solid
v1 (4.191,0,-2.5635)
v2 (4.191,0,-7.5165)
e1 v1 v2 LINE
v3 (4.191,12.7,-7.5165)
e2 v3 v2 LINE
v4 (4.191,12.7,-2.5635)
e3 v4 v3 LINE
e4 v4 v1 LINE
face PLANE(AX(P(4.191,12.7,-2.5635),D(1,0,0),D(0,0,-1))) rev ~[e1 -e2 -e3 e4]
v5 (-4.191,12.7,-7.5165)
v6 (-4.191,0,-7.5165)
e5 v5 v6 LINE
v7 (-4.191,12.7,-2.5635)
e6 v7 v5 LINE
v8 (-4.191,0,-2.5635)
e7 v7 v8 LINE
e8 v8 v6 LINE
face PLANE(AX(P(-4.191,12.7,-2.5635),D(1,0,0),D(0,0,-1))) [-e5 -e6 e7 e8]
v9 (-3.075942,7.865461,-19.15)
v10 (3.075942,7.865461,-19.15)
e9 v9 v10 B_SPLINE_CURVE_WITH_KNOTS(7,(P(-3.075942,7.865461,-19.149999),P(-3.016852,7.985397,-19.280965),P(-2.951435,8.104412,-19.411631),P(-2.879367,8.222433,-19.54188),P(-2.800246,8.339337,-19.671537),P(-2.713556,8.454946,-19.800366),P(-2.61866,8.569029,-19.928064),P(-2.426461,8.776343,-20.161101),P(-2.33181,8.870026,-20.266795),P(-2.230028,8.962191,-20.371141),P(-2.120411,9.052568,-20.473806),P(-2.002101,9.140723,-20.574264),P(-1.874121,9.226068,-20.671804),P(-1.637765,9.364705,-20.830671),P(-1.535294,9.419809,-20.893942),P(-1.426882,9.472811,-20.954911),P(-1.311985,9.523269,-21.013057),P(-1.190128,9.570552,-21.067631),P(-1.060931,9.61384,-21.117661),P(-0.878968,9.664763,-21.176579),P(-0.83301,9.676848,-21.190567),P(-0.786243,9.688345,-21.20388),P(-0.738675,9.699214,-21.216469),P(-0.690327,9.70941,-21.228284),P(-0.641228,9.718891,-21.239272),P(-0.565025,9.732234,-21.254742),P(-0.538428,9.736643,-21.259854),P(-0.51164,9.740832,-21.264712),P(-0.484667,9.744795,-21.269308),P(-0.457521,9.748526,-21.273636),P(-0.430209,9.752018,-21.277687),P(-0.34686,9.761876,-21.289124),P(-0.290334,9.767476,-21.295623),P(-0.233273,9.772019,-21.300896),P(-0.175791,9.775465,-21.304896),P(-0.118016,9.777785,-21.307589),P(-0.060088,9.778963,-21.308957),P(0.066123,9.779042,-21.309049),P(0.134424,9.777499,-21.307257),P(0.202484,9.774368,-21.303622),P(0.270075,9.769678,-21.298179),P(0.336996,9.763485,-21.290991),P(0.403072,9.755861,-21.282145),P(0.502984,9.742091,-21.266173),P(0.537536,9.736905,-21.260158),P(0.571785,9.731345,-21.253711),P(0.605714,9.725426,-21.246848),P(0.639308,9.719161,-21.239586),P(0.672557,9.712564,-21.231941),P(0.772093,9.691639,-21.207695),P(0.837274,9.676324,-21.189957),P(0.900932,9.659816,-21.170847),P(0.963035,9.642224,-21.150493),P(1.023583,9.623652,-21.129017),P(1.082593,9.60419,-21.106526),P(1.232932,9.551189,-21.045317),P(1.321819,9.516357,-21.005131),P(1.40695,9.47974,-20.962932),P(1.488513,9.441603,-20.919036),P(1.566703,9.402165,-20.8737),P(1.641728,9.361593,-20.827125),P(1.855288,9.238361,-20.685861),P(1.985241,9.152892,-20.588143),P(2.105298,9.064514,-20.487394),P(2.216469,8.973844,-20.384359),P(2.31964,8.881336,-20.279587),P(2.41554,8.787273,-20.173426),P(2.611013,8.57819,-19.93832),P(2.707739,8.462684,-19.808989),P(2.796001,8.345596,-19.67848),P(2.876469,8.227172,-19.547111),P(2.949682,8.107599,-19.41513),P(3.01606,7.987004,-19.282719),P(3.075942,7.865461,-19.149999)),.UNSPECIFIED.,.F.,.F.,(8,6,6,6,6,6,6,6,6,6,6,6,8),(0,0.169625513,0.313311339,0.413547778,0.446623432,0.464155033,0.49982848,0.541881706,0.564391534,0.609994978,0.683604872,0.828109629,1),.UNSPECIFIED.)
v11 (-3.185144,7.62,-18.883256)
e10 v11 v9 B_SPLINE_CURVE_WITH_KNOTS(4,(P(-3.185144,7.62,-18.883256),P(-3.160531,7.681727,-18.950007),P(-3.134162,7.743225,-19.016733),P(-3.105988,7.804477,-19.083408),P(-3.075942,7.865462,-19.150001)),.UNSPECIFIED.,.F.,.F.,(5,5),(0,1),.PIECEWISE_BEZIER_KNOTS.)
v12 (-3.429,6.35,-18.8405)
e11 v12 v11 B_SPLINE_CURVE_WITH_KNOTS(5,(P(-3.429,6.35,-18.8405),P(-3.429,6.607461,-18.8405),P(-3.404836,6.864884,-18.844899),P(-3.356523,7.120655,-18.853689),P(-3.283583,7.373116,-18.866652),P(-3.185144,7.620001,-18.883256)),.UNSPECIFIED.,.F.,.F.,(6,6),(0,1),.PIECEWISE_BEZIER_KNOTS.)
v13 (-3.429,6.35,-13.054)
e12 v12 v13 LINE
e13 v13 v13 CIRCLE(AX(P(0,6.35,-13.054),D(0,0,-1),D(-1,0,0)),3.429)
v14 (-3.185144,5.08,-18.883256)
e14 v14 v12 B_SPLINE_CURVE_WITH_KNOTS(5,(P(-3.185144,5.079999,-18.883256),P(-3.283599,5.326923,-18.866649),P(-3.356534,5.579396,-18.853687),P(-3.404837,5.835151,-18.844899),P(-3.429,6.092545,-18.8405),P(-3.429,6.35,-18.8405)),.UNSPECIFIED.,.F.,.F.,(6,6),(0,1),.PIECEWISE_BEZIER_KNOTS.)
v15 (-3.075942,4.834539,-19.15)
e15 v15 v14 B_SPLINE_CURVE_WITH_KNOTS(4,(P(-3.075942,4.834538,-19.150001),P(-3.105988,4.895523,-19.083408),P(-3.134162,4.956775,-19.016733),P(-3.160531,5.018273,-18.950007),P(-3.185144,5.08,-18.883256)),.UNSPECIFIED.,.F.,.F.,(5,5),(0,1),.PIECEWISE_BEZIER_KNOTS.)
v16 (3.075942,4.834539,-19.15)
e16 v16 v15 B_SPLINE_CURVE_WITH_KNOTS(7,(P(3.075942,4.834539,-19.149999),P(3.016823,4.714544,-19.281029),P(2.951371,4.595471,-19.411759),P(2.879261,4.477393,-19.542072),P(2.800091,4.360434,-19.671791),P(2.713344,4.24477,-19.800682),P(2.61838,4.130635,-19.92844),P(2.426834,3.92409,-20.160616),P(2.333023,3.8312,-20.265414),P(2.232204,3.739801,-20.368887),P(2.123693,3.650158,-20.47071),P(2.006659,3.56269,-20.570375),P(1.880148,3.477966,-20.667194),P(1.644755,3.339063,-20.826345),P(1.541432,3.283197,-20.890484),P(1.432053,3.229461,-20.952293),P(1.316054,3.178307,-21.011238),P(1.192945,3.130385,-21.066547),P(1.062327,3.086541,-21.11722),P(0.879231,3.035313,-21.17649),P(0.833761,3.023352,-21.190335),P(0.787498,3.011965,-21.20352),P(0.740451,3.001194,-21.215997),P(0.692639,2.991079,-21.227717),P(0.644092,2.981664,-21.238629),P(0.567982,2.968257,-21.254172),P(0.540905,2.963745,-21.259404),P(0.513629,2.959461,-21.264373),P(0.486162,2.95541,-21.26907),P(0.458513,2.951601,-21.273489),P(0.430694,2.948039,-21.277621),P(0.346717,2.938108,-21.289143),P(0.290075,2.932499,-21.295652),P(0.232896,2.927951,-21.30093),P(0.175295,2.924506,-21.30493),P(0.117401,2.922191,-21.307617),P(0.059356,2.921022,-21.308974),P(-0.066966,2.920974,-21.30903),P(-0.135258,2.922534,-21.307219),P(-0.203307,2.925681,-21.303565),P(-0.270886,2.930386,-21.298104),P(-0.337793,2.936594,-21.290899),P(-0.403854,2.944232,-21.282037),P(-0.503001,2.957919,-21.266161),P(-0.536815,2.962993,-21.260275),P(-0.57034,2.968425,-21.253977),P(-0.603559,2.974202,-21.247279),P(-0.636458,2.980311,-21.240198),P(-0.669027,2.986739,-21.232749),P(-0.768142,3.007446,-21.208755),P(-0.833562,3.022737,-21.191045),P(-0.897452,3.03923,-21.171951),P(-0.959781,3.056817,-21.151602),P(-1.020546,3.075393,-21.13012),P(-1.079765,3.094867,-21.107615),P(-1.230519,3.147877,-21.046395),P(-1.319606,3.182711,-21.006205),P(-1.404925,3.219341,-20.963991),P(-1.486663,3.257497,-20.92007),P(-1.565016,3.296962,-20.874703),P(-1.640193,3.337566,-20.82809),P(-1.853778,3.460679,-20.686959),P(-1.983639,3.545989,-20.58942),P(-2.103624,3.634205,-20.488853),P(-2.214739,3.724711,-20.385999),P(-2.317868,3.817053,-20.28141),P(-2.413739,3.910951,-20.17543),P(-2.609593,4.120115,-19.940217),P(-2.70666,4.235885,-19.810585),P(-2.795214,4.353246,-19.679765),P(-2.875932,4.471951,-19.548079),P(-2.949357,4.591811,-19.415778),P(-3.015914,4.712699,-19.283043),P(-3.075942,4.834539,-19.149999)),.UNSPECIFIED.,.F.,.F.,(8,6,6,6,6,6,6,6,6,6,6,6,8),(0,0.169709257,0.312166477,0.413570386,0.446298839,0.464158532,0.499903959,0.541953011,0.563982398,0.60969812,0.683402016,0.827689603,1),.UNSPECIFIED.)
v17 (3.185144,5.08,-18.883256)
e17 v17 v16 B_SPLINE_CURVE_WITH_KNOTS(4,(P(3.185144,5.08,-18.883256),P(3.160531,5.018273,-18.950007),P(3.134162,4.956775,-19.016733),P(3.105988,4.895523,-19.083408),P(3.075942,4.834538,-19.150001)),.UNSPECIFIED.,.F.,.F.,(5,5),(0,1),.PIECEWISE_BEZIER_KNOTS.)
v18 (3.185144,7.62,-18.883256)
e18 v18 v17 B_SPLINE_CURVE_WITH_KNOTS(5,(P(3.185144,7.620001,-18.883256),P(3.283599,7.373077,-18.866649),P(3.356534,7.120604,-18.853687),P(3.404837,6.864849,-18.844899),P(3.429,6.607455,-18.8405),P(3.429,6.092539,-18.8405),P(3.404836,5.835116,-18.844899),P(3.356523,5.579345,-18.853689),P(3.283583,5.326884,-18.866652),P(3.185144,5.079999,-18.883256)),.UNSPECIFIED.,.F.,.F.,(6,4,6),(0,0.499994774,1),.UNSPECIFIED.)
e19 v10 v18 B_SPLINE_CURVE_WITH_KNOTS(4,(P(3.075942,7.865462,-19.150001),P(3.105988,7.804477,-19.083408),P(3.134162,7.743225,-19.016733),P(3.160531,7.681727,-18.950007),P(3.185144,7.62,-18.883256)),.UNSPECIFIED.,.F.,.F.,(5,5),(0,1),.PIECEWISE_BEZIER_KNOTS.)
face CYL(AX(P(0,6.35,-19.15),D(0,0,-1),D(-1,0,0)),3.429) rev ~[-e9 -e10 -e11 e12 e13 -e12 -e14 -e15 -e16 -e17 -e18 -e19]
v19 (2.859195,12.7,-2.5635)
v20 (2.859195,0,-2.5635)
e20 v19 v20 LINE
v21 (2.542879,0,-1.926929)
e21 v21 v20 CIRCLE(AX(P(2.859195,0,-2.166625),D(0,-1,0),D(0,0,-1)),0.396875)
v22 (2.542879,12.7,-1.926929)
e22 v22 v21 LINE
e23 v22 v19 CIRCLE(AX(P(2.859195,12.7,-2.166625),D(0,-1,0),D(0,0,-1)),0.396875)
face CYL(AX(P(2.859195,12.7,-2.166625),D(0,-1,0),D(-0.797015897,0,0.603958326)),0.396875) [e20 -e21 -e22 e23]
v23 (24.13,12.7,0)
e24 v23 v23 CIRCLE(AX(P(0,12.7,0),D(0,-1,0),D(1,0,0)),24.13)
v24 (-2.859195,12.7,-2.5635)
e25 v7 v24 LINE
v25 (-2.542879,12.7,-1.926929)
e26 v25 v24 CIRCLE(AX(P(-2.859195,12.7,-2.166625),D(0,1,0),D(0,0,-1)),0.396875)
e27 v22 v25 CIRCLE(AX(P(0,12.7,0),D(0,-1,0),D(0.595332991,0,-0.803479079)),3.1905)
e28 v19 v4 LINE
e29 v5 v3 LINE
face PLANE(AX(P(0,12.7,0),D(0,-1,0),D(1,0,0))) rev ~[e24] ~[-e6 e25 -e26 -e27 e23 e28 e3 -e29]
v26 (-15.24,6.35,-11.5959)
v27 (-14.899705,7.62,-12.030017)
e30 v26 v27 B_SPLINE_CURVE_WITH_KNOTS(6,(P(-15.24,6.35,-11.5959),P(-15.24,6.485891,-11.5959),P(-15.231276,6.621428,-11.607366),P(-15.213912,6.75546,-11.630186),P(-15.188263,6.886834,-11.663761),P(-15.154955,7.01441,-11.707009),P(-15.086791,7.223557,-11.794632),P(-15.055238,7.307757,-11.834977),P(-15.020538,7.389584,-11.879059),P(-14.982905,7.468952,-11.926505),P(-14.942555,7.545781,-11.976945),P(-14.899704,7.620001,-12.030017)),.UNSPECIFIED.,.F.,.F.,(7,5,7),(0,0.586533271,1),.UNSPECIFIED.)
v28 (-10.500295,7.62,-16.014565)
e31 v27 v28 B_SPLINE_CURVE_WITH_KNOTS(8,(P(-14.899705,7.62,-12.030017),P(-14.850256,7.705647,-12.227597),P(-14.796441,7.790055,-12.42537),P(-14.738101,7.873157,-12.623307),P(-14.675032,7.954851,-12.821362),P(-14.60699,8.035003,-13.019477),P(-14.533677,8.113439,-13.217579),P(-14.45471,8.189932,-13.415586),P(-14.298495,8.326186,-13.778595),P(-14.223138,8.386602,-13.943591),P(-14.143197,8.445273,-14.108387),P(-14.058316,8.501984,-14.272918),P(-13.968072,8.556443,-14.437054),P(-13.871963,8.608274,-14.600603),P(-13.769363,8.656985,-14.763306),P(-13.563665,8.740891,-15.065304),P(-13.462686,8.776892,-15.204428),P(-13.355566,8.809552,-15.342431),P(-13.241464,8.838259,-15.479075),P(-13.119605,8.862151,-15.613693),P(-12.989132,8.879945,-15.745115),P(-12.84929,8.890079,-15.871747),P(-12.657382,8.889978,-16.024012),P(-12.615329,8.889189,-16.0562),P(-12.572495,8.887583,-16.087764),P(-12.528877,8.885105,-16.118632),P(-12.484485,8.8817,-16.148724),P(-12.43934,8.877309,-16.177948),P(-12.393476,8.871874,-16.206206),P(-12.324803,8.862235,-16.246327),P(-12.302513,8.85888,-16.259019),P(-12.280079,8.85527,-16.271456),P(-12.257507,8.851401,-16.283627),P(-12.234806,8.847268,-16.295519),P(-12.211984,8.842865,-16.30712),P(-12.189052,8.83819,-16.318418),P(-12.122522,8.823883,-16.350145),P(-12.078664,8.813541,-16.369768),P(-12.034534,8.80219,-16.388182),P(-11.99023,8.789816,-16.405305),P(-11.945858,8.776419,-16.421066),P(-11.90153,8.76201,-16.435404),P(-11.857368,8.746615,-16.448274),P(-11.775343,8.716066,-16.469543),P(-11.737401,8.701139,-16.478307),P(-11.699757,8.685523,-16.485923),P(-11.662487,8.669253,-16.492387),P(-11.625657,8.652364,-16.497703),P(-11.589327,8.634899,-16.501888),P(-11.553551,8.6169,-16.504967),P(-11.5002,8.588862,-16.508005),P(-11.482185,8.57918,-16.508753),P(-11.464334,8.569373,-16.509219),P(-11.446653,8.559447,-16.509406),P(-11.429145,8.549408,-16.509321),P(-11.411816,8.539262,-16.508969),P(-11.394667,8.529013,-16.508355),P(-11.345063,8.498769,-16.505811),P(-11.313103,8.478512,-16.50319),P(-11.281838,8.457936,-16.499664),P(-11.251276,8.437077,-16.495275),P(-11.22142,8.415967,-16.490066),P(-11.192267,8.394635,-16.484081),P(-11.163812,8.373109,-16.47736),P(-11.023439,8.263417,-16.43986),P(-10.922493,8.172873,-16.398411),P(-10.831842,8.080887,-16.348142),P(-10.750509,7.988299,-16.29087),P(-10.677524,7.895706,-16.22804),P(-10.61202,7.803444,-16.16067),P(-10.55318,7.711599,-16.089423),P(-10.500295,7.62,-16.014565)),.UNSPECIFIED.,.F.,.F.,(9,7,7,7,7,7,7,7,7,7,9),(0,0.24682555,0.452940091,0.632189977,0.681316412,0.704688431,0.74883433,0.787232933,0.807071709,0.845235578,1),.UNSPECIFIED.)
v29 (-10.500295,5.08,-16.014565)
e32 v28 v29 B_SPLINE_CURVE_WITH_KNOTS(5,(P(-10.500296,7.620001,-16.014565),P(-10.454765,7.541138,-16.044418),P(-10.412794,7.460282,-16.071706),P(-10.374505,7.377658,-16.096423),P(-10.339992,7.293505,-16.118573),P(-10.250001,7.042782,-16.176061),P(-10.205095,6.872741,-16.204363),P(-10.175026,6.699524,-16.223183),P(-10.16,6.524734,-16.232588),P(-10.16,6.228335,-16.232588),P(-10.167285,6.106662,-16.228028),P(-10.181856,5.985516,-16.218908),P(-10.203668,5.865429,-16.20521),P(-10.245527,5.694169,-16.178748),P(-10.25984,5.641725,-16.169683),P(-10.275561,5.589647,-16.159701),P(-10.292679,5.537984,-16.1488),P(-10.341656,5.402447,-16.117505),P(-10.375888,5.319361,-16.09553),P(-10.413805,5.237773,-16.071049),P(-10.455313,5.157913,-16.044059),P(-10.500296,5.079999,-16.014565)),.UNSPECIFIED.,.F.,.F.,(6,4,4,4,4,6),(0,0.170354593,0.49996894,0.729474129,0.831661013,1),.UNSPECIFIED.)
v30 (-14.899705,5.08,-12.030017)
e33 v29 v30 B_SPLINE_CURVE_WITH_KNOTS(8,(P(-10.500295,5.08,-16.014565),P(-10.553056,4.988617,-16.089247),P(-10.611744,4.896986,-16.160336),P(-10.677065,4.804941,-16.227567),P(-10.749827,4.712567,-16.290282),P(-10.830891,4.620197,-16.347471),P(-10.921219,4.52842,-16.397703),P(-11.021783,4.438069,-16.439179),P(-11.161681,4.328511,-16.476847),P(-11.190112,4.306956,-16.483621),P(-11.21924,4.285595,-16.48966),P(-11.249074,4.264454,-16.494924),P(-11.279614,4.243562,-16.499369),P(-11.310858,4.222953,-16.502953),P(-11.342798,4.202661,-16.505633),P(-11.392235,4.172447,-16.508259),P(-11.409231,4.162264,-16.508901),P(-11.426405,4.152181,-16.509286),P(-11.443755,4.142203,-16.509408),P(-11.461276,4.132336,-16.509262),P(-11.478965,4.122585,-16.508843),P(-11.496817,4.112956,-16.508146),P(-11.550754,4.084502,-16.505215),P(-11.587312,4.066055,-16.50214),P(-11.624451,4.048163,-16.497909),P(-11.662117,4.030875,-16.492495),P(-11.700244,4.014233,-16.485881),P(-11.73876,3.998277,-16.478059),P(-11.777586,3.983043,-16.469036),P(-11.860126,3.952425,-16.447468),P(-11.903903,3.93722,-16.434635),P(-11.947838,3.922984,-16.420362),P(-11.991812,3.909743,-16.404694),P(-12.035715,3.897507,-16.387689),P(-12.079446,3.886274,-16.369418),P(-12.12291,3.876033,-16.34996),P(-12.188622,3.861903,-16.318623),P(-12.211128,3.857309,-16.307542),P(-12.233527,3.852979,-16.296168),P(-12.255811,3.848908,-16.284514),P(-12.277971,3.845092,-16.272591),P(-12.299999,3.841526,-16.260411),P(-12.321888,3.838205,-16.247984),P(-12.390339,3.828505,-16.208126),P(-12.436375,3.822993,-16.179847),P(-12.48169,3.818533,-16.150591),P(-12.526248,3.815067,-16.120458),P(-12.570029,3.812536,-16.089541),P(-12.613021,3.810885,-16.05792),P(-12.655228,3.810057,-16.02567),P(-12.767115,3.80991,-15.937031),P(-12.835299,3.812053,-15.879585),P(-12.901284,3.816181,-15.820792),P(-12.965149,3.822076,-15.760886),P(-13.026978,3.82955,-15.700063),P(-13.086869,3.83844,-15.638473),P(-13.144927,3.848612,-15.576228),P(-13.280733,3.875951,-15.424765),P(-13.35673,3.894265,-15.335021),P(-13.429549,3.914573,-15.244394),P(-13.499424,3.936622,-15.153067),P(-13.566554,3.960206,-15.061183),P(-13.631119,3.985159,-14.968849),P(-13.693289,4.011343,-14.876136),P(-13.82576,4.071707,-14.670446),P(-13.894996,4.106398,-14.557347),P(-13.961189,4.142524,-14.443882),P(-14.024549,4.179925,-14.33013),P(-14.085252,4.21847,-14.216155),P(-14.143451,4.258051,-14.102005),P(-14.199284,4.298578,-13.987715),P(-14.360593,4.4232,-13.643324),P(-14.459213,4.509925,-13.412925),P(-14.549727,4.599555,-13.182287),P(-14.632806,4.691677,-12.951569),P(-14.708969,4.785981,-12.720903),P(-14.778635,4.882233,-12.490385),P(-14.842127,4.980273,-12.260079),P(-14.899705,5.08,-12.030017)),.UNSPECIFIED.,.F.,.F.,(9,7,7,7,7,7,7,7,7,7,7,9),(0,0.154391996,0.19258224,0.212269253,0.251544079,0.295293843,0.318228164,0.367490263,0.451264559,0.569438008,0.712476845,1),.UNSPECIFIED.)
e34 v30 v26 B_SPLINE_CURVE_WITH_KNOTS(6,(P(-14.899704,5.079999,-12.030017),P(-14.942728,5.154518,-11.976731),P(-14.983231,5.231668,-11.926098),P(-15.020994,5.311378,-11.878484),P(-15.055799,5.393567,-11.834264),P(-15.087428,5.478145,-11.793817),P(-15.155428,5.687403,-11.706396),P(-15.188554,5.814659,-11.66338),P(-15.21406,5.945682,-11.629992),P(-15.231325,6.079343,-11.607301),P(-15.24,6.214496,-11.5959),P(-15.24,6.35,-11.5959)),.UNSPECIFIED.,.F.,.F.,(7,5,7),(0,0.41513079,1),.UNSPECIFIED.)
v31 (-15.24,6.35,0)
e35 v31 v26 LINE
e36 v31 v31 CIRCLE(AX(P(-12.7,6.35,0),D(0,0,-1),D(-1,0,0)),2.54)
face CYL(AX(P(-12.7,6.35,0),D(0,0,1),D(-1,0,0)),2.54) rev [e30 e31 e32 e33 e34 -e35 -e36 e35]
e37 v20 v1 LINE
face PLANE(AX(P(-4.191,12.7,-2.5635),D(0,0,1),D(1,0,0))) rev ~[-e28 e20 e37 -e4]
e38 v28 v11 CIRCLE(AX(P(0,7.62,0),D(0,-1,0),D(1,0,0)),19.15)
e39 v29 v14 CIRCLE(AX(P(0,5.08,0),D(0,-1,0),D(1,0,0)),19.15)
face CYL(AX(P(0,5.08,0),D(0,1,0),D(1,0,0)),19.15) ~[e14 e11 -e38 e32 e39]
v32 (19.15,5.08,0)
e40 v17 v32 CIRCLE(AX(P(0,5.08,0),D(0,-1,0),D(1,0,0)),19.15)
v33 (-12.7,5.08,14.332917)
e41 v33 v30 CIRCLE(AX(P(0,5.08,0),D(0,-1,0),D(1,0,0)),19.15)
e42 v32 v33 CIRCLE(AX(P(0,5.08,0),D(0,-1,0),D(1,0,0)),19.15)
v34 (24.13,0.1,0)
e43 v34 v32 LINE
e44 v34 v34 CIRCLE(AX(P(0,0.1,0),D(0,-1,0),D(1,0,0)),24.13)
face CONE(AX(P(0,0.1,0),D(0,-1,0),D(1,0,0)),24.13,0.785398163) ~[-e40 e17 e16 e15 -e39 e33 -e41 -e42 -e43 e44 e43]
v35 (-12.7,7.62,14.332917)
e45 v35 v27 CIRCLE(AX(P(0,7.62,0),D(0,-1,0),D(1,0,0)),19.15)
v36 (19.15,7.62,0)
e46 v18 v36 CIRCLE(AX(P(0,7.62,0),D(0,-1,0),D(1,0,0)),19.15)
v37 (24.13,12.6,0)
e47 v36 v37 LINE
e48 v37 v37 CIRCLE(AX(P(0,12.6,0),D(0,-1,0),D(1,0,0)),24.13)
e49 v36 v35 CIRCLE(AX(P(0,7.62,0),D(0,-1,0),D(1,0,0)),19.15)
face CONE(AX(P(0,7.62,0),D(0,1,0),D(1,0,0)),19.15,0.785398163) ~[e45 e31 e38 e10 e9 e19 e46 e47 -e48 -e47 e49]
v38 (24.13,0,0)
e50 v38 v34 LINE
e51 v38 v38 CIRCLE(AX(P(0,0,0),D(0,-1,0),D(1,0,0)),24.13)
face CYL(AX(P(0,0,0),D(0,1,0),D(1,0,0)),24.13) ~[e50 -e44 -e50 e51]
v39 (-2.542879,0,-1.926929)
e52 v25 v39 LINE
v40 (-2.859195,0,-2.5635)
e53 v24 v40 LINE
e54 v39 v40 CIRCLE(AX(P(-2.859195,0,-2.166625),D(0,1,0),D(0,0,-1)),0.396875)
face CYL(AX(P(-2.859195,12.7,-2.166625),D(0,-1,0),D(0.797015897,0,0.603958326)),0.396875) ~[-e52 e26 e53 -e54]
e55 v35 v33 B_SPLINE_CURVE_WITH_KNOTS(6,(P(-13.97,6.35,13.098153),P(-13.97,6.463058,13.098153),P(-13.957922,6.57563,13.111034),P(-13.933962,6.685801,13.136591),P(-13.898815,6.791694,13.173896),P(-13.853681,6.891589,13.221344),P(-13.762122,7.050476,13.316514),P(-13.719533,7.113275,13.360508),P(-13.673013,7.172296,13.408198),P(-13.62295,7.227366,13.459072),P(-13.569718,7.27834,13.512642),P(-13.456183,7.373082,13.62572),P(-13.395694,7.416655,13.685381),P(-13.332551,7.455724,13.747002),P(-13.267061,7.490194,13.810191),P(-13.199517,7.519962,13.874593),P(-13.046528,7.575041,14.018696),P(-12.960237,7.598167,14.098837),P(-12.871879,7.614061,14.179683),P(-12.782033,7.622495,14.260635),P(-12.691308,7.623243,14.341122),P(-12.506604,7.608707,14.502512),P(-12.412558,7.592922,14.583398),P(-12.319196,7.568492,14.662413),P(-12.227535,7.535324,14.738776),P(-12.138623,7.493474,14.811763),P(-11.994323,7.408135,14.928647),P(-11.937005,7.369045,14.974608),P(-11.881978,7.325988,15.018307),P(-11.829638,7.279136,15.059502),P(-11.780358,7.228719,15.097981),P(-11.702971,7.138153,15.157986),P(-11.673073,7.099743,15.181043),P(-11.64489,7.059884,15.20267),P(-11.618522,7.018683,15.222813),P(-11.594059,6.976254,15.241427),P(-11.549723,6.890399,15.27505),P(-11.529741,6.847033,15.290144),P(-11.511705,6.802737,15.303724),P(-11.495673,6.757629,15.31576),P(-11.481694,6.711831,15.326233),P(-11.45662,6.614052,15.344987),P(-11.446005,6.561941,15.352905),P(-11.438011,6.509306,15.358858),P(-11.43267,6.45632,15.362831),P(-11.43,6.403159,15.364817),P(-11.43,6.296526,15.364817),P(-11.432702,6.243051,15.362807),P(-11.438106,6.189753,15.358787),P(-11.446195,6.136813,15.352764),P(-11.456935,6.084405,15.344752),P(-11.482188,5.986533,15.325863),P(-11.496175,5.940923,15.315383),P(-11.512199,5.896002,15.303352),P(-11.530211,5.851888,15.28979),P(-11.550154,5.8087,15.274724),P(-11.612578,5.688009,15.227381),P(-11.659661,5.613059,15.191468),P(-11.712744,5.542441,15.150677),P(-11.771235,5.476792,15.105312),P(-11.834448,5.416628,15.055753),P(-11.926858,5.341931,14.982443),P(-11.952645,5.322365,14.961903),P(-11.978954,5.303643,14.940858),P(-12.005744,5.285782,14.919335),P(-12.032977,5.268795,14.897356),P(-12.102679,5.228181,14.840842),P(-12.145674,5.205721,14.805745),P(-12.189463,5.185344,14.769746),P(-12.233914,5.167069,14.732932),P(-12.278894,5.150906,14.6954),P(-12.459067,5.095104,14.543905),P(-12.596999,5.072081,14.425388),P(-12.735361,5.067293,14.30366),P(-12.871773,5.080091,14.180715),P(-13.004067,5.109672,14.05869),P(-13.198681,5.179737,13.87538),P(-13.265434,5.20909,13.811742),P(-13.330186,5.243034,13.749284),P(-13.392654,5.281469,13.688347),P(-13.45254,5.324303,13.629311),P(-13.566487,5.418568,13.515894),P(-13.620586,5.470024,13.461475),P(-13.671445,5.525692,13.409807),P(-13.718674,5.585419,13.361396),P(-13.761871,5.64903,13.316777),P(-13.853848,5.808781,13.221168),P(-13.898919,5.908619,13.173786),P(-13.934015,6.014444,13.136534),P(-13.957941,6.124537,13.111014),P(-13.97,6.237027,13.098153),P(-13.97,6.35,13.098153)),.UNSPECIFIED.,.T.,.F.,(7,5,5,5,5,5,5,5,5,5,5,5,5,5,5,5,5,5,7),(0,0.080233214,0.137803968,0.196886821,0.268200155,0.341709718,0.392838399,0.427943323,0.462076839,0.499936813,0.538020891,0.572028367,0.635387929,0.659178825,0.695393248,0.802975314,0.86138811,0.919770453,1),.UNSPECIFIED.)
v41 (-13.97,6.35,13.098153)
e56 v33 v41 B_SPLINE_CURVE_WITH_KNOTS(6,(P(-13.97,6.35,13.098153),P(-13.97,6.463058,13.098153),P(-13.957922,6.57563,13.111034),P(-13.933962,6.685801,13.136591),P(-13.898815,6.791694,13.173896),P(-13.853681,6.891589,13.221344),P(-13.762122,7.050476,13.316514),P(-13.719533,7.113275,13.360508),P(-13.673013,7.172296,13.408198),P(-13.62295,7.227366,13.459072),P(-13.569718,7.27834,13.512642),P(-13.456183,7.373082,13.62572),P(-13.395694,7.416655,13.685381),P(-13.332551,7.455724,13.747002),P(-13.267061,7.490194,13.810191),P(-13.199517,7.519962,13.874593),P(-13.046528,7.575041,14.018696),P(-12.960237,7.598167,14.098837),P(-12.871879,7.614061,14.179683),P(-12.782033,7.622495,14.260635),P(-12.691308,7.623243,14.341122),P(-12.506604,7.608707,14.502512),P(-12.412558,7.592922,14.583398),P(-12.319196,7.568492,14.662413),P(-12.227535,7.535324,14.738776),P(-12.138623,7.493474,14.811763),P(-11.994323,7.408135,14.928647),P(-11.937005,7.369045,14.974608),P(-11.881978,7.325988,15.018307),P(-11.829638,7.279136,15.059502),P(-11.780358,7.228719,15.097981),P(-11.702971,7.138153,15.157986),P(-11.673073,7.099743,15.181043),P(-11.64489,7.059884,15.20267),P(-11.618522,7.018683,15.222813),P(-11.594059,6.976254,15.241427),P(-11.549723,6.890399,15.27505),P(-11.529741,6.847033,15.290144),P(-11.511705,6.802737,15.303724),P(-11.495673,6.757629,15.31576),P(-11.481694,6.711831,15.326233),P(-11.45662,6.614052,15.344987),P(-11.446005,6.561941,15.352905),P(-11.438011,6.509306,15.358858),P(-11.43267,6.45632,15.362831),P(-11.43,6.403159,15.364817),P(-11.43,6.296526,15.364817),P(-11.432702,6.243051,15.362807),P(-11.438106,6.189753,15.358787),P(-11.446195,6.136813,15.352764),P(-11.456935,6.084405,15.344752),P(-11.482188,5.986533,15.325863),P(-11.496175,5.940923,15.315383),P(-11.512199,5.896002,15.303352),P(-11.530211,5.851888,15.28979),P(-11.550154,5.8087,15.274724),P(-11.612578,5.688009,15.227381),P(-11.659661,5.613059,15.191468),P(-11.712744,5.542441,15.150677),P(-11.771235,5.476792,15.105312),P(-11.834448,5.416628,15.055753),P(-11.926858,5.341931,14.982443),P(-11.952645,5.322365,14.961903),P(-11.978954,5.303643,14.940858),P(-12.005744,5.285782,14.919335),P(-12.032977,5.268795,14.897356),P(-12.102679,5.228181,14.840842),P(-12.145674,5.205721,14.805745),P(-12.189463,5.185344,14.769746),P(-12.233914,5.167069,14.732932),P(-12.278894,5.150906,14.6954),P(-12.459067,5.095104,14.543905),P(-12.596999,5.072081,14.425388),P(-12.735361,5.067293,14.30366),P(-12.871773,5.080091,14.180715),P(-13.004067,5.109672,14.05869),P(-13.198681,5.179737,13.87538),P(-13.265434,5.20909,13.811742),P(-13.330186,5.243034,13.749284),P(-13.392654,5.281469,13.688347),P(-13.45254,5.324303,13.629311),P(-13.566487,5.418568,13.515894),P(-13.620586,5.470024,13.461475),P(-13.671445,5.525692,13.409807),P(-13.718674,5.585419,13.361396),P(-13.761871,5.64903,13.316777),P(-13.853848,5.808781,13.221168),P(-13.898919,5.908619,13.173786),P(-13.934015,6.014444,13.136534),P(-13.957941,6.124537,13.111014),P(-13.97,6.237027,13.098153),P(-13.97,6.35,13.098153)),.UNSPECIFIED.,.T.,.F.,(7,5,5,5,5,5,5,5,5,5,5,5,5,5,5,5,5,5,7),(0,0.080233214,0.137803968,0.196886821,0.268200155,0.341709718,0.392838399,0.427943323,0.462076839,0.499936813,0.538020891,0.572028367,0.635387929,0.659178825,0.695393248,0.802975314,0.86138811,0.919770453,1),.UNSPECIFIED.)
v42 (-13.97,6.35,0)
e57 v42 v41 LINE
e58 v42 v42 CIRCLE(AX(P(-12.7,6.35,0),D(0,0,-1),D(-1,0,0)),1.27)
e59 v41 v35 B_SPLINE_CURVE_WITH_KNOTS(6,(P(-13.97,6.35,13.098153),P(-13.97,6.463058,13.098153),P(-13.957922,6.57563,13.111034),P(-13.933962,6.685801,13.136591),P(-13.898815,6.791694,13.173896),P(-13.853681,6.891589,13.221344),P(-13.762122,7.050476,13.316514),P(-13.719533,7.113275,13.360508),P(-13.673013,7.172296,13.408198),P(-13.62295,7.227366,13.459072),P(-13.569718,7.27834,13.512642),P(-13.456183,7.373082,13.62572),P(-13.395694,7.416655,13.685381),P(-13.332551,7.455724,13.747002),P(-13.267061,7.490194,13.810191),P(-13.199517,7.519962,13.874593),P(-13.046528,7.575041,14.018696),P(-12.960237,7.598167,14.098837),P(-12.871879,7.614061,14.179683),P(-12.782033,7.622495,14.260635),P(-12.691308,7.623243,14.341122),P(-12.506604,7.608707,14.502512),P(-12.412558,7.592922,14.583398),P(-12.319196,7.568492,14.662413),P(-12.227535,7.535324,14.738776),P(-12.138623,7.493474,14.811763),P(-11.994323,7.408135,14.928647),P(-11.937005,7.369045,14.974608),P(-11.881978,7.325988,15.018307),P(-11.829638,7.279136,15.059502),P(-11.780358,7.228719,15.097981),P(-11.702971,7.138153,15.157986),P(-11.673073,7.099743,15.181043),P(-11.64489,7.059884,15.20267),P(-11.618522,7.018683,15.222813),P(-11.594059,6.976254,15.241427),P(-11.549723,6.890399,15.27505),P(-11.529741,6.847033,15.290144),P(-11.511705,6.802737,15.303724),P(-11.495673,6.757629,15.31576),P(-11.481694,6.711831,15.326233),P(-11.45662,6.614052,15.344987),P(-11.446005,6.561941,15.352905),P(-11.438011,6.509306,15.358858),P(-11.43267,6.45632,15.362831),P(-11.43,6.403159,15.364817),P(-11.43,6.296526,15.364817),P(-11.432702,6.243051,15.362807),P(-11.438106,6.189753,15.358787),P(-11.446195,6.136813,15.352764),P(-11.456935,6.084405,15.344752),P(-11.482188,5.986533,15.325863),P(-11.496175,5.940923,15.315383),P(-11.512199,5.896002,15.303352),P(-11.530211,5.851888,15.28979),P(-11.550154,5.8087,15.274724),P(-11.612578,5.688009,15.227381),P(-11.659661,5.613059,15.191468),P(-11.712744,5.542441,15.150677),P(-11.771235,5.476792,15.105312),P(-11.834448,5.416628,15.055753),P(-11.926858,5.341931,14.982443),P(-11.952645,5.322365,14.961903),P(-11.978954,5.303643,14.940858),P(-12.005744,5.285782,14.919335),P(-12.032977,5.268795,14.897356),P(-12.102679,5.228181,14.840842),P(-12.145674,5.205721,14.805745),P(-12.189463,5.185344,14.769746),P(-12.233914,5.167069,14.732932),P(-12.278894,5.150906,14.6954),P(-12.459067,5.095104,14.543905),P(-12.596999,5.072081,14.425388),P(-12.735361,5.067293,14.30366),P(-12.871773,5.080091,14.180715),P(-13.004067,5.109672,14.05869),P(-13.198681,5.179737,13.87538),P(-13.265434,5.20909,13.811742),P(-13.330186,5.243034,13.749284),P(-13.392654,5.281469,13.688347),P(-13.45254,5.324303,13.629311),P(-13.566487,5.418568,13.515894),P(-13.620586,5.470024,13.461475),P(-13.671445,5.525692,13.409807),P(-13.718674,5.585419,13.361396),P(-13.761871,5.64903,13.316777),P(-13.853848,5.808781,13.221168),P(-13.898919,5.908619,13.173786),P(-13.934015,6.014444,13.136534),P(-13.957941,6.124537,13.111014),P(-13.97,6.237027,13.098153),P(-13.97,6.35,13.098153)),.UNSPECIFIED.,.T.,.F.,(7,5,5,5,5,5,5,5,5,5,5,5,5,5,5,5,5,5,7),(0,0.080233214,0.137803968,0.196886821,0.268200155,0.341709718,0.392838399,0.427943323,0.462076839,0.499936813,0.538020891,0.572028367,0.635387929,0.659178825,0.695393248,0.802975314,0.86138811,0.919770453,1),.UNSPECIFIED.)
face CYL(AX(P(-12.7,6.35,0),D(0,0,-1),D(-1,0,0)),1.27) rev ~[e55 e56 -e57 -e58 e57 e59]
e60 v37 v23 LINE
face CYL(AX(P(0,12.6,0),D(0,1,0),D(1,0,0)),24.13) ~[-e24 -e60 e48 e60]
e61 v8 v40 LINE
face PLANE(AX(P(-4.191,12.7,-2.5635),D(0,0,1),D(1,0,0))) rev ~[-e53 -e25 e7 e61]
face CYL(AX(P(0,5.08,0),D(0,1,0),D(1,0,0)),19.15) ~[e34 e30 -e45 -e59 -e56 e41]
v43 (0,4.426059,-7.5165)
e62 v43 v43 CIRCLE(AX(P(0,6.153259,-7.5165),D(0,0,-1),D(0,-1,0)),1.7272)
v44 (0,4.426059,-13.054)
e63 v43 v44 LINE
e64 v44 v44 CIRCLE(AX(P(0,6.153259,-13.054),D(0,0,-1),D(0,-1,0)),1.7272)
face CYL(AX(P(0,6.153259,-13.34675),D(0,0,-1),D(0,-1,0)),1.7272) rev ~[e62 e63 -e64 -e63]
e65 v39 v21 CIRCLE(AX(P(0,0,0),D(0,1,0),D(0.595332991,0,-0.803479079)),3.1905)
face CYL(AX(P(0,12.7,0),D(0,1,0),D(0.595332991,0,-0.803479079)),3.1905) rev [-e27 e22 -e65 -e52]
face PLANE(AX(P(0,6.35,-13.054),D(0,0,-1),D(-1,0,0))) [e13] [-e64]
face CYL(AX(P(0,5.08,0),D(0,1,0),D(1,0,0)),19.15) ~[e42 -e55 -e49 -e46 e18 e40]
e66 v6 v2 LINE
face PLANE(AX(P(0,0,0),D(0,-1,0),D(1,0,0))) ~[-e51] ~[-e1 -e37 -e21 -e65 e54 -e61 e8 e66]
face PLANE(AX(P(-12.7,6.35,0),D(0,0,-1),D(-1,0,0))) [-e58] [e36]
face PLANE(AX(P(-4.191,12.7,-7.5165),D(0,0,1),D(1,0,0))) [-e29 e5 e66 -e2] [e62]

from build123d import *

# Parameters (mm, degrees)
CUT_EXTRUDE2_DEPTH      = 13.7
SKETCH9_W               = 8.382
SKETCH9_H               = 4.953
CUT_EXTRUDE3_DEPTH      = 13.7
FILLET2_R               = 0.396875
SKETCH14_W              = 1.7272
SKETCH14_H              = 21.5665
SKETCH15_R              = 3.429
CUT_EXTRUDE4_DEPTH      = 5.9800001
CUT_EXTRUDE4_DEPTH_BACK = 6.096
CUT_EXTRUDE6_START      = -19.15
SKETCH16_R              = 1.27
CUT_EXTRUDE6_DEPTH      = 25.1300001
CUT_EXTRUDE7_START      = -19.15
SKETCH16_3_R            = 2.54
CUT_EXTRUDE7_DEPTH      = 25.1300001


with BuildPart() as part:
    # Sketch7 → Revolve1 (revolve)
    with BuildSketch(Plane.XY):
        Polygon((0, 0), (24.13, 0), (24.13, 0.1), (19.15, 5.08), (19.15, 7.62), (24.13, 12.6), (24.13, 12.7), (0, 12.7), align=None)
    revolve(axis=Axis((0, 12.7, 0), (0, -1, 0)))

    # Sketch8 → Cut-Extrude2 (cut, through all)
    with BuildSketch(Plane(origin=(0, 12.7, 0), x_dir=(1, 0, 0), z_dir=(0, 1, 0))):
        with BuildLine():
            Line((-1.899409908, 2.5635), (1.899409908, 2.5635))
            ThreePointArc((1.899409908, 2.5635), (0, -3.1905), (-1.899409908, 2.5635))
        make_face()
    extrude(amount=-CUT_EXTRUDE2_DEPTH, mode=Mode.SUBTRACT)

    # Sketch9 → Cut-Extrude3 (cut, through all)
    with BuildSketch(Plane(origin=(0, 12.7, 0), x_dir=(1, 0, 0), z_dir=(0, 1, 0))):
        with Locations((0, 5.04)):
            Rectangle(SKETCH9_W, SKETCH9_H)
    extrude(amount=-CUT_EXTRUDE3_DEPTH, mode=Mode.SUBTRACT)

    # Fillet2
    fillet2_edges = [part.edges().sort_by_distance(p)[0] for p in [
        (1.899409908, 6.35, -2.5635),
        (-1.899409908, 6.35, -2.5635),
    ]]
    fillet(fillet2_edges, radius=FILLET2_R)

    # Sketch14 → #8-32 Tapped Hole1 (revolve, cut)
    with BuildSketch(Plane(origin=(0, 6.153258969, -2.5635), x_dir=(0, -1, 0), z_dir=(1, 0, 0))):
        with Locations((0.8636, 10.78325)):
            Rectangle(SKETCH14_W, SKETCH14_H)
    revolve(axis=Axis((0, 6.153258969, 3.7865), (0, 0, -1)), mode=Mode.SUBTRACT)

    # Sketch15 → Cut-Extrude4 (cut, two sides)
    with BuildSketch(Plane(origin=(0, 0, -19.15), x_dir=(-1, 0, 0), z_dir=(0, 0, -1))) as cut_extrude4_sk:
        with Locations((0, 6.35)):
            Circle(SKETCH15_R)
    extrude(amount=CUT_EXTRUDE4_DEPTH, mode=Mode.SUBTRACT)
    extrude(cut_extrude4_sk.sketch, amount=-CUT_EXTRUDE4_DEPTH_BACK, mode=Mode.SUBTRACT)

    # Sketch16 → Cut-Extrude6 (cut, through all)
    with BuildSketch(Plane(origin=(0, 0, -19.15), x_dir=(-1, 0, 0), z_dir=(0, 0, -1)).offset(CUT_EXTRUDE6_START)):
        with Locations((12.7, 6.35)):
            Circle(SKETCH16_R)
    extrude(amount=-CUT_EXTRUDE6_DEPTH, mode=Mode.SUBTRACT)

    # Sketch16<3> → Cut-Extrude7 (cut, through all)
    with BuildSketch(Plane(origin=(0, 0, -19.15), x_dir=(-1, 0, 0), z_dir=(0, 0, -1)).offset(CUT_EXTRUDE7_START)):
        with Locations((12.7, 6.35)):
            Circle(SKETCH16_3_R)
    extrude(amount=CUT_EXTRUDE7_DEPTH, mode=Mode.SUBTRACT)


solid = part.part
